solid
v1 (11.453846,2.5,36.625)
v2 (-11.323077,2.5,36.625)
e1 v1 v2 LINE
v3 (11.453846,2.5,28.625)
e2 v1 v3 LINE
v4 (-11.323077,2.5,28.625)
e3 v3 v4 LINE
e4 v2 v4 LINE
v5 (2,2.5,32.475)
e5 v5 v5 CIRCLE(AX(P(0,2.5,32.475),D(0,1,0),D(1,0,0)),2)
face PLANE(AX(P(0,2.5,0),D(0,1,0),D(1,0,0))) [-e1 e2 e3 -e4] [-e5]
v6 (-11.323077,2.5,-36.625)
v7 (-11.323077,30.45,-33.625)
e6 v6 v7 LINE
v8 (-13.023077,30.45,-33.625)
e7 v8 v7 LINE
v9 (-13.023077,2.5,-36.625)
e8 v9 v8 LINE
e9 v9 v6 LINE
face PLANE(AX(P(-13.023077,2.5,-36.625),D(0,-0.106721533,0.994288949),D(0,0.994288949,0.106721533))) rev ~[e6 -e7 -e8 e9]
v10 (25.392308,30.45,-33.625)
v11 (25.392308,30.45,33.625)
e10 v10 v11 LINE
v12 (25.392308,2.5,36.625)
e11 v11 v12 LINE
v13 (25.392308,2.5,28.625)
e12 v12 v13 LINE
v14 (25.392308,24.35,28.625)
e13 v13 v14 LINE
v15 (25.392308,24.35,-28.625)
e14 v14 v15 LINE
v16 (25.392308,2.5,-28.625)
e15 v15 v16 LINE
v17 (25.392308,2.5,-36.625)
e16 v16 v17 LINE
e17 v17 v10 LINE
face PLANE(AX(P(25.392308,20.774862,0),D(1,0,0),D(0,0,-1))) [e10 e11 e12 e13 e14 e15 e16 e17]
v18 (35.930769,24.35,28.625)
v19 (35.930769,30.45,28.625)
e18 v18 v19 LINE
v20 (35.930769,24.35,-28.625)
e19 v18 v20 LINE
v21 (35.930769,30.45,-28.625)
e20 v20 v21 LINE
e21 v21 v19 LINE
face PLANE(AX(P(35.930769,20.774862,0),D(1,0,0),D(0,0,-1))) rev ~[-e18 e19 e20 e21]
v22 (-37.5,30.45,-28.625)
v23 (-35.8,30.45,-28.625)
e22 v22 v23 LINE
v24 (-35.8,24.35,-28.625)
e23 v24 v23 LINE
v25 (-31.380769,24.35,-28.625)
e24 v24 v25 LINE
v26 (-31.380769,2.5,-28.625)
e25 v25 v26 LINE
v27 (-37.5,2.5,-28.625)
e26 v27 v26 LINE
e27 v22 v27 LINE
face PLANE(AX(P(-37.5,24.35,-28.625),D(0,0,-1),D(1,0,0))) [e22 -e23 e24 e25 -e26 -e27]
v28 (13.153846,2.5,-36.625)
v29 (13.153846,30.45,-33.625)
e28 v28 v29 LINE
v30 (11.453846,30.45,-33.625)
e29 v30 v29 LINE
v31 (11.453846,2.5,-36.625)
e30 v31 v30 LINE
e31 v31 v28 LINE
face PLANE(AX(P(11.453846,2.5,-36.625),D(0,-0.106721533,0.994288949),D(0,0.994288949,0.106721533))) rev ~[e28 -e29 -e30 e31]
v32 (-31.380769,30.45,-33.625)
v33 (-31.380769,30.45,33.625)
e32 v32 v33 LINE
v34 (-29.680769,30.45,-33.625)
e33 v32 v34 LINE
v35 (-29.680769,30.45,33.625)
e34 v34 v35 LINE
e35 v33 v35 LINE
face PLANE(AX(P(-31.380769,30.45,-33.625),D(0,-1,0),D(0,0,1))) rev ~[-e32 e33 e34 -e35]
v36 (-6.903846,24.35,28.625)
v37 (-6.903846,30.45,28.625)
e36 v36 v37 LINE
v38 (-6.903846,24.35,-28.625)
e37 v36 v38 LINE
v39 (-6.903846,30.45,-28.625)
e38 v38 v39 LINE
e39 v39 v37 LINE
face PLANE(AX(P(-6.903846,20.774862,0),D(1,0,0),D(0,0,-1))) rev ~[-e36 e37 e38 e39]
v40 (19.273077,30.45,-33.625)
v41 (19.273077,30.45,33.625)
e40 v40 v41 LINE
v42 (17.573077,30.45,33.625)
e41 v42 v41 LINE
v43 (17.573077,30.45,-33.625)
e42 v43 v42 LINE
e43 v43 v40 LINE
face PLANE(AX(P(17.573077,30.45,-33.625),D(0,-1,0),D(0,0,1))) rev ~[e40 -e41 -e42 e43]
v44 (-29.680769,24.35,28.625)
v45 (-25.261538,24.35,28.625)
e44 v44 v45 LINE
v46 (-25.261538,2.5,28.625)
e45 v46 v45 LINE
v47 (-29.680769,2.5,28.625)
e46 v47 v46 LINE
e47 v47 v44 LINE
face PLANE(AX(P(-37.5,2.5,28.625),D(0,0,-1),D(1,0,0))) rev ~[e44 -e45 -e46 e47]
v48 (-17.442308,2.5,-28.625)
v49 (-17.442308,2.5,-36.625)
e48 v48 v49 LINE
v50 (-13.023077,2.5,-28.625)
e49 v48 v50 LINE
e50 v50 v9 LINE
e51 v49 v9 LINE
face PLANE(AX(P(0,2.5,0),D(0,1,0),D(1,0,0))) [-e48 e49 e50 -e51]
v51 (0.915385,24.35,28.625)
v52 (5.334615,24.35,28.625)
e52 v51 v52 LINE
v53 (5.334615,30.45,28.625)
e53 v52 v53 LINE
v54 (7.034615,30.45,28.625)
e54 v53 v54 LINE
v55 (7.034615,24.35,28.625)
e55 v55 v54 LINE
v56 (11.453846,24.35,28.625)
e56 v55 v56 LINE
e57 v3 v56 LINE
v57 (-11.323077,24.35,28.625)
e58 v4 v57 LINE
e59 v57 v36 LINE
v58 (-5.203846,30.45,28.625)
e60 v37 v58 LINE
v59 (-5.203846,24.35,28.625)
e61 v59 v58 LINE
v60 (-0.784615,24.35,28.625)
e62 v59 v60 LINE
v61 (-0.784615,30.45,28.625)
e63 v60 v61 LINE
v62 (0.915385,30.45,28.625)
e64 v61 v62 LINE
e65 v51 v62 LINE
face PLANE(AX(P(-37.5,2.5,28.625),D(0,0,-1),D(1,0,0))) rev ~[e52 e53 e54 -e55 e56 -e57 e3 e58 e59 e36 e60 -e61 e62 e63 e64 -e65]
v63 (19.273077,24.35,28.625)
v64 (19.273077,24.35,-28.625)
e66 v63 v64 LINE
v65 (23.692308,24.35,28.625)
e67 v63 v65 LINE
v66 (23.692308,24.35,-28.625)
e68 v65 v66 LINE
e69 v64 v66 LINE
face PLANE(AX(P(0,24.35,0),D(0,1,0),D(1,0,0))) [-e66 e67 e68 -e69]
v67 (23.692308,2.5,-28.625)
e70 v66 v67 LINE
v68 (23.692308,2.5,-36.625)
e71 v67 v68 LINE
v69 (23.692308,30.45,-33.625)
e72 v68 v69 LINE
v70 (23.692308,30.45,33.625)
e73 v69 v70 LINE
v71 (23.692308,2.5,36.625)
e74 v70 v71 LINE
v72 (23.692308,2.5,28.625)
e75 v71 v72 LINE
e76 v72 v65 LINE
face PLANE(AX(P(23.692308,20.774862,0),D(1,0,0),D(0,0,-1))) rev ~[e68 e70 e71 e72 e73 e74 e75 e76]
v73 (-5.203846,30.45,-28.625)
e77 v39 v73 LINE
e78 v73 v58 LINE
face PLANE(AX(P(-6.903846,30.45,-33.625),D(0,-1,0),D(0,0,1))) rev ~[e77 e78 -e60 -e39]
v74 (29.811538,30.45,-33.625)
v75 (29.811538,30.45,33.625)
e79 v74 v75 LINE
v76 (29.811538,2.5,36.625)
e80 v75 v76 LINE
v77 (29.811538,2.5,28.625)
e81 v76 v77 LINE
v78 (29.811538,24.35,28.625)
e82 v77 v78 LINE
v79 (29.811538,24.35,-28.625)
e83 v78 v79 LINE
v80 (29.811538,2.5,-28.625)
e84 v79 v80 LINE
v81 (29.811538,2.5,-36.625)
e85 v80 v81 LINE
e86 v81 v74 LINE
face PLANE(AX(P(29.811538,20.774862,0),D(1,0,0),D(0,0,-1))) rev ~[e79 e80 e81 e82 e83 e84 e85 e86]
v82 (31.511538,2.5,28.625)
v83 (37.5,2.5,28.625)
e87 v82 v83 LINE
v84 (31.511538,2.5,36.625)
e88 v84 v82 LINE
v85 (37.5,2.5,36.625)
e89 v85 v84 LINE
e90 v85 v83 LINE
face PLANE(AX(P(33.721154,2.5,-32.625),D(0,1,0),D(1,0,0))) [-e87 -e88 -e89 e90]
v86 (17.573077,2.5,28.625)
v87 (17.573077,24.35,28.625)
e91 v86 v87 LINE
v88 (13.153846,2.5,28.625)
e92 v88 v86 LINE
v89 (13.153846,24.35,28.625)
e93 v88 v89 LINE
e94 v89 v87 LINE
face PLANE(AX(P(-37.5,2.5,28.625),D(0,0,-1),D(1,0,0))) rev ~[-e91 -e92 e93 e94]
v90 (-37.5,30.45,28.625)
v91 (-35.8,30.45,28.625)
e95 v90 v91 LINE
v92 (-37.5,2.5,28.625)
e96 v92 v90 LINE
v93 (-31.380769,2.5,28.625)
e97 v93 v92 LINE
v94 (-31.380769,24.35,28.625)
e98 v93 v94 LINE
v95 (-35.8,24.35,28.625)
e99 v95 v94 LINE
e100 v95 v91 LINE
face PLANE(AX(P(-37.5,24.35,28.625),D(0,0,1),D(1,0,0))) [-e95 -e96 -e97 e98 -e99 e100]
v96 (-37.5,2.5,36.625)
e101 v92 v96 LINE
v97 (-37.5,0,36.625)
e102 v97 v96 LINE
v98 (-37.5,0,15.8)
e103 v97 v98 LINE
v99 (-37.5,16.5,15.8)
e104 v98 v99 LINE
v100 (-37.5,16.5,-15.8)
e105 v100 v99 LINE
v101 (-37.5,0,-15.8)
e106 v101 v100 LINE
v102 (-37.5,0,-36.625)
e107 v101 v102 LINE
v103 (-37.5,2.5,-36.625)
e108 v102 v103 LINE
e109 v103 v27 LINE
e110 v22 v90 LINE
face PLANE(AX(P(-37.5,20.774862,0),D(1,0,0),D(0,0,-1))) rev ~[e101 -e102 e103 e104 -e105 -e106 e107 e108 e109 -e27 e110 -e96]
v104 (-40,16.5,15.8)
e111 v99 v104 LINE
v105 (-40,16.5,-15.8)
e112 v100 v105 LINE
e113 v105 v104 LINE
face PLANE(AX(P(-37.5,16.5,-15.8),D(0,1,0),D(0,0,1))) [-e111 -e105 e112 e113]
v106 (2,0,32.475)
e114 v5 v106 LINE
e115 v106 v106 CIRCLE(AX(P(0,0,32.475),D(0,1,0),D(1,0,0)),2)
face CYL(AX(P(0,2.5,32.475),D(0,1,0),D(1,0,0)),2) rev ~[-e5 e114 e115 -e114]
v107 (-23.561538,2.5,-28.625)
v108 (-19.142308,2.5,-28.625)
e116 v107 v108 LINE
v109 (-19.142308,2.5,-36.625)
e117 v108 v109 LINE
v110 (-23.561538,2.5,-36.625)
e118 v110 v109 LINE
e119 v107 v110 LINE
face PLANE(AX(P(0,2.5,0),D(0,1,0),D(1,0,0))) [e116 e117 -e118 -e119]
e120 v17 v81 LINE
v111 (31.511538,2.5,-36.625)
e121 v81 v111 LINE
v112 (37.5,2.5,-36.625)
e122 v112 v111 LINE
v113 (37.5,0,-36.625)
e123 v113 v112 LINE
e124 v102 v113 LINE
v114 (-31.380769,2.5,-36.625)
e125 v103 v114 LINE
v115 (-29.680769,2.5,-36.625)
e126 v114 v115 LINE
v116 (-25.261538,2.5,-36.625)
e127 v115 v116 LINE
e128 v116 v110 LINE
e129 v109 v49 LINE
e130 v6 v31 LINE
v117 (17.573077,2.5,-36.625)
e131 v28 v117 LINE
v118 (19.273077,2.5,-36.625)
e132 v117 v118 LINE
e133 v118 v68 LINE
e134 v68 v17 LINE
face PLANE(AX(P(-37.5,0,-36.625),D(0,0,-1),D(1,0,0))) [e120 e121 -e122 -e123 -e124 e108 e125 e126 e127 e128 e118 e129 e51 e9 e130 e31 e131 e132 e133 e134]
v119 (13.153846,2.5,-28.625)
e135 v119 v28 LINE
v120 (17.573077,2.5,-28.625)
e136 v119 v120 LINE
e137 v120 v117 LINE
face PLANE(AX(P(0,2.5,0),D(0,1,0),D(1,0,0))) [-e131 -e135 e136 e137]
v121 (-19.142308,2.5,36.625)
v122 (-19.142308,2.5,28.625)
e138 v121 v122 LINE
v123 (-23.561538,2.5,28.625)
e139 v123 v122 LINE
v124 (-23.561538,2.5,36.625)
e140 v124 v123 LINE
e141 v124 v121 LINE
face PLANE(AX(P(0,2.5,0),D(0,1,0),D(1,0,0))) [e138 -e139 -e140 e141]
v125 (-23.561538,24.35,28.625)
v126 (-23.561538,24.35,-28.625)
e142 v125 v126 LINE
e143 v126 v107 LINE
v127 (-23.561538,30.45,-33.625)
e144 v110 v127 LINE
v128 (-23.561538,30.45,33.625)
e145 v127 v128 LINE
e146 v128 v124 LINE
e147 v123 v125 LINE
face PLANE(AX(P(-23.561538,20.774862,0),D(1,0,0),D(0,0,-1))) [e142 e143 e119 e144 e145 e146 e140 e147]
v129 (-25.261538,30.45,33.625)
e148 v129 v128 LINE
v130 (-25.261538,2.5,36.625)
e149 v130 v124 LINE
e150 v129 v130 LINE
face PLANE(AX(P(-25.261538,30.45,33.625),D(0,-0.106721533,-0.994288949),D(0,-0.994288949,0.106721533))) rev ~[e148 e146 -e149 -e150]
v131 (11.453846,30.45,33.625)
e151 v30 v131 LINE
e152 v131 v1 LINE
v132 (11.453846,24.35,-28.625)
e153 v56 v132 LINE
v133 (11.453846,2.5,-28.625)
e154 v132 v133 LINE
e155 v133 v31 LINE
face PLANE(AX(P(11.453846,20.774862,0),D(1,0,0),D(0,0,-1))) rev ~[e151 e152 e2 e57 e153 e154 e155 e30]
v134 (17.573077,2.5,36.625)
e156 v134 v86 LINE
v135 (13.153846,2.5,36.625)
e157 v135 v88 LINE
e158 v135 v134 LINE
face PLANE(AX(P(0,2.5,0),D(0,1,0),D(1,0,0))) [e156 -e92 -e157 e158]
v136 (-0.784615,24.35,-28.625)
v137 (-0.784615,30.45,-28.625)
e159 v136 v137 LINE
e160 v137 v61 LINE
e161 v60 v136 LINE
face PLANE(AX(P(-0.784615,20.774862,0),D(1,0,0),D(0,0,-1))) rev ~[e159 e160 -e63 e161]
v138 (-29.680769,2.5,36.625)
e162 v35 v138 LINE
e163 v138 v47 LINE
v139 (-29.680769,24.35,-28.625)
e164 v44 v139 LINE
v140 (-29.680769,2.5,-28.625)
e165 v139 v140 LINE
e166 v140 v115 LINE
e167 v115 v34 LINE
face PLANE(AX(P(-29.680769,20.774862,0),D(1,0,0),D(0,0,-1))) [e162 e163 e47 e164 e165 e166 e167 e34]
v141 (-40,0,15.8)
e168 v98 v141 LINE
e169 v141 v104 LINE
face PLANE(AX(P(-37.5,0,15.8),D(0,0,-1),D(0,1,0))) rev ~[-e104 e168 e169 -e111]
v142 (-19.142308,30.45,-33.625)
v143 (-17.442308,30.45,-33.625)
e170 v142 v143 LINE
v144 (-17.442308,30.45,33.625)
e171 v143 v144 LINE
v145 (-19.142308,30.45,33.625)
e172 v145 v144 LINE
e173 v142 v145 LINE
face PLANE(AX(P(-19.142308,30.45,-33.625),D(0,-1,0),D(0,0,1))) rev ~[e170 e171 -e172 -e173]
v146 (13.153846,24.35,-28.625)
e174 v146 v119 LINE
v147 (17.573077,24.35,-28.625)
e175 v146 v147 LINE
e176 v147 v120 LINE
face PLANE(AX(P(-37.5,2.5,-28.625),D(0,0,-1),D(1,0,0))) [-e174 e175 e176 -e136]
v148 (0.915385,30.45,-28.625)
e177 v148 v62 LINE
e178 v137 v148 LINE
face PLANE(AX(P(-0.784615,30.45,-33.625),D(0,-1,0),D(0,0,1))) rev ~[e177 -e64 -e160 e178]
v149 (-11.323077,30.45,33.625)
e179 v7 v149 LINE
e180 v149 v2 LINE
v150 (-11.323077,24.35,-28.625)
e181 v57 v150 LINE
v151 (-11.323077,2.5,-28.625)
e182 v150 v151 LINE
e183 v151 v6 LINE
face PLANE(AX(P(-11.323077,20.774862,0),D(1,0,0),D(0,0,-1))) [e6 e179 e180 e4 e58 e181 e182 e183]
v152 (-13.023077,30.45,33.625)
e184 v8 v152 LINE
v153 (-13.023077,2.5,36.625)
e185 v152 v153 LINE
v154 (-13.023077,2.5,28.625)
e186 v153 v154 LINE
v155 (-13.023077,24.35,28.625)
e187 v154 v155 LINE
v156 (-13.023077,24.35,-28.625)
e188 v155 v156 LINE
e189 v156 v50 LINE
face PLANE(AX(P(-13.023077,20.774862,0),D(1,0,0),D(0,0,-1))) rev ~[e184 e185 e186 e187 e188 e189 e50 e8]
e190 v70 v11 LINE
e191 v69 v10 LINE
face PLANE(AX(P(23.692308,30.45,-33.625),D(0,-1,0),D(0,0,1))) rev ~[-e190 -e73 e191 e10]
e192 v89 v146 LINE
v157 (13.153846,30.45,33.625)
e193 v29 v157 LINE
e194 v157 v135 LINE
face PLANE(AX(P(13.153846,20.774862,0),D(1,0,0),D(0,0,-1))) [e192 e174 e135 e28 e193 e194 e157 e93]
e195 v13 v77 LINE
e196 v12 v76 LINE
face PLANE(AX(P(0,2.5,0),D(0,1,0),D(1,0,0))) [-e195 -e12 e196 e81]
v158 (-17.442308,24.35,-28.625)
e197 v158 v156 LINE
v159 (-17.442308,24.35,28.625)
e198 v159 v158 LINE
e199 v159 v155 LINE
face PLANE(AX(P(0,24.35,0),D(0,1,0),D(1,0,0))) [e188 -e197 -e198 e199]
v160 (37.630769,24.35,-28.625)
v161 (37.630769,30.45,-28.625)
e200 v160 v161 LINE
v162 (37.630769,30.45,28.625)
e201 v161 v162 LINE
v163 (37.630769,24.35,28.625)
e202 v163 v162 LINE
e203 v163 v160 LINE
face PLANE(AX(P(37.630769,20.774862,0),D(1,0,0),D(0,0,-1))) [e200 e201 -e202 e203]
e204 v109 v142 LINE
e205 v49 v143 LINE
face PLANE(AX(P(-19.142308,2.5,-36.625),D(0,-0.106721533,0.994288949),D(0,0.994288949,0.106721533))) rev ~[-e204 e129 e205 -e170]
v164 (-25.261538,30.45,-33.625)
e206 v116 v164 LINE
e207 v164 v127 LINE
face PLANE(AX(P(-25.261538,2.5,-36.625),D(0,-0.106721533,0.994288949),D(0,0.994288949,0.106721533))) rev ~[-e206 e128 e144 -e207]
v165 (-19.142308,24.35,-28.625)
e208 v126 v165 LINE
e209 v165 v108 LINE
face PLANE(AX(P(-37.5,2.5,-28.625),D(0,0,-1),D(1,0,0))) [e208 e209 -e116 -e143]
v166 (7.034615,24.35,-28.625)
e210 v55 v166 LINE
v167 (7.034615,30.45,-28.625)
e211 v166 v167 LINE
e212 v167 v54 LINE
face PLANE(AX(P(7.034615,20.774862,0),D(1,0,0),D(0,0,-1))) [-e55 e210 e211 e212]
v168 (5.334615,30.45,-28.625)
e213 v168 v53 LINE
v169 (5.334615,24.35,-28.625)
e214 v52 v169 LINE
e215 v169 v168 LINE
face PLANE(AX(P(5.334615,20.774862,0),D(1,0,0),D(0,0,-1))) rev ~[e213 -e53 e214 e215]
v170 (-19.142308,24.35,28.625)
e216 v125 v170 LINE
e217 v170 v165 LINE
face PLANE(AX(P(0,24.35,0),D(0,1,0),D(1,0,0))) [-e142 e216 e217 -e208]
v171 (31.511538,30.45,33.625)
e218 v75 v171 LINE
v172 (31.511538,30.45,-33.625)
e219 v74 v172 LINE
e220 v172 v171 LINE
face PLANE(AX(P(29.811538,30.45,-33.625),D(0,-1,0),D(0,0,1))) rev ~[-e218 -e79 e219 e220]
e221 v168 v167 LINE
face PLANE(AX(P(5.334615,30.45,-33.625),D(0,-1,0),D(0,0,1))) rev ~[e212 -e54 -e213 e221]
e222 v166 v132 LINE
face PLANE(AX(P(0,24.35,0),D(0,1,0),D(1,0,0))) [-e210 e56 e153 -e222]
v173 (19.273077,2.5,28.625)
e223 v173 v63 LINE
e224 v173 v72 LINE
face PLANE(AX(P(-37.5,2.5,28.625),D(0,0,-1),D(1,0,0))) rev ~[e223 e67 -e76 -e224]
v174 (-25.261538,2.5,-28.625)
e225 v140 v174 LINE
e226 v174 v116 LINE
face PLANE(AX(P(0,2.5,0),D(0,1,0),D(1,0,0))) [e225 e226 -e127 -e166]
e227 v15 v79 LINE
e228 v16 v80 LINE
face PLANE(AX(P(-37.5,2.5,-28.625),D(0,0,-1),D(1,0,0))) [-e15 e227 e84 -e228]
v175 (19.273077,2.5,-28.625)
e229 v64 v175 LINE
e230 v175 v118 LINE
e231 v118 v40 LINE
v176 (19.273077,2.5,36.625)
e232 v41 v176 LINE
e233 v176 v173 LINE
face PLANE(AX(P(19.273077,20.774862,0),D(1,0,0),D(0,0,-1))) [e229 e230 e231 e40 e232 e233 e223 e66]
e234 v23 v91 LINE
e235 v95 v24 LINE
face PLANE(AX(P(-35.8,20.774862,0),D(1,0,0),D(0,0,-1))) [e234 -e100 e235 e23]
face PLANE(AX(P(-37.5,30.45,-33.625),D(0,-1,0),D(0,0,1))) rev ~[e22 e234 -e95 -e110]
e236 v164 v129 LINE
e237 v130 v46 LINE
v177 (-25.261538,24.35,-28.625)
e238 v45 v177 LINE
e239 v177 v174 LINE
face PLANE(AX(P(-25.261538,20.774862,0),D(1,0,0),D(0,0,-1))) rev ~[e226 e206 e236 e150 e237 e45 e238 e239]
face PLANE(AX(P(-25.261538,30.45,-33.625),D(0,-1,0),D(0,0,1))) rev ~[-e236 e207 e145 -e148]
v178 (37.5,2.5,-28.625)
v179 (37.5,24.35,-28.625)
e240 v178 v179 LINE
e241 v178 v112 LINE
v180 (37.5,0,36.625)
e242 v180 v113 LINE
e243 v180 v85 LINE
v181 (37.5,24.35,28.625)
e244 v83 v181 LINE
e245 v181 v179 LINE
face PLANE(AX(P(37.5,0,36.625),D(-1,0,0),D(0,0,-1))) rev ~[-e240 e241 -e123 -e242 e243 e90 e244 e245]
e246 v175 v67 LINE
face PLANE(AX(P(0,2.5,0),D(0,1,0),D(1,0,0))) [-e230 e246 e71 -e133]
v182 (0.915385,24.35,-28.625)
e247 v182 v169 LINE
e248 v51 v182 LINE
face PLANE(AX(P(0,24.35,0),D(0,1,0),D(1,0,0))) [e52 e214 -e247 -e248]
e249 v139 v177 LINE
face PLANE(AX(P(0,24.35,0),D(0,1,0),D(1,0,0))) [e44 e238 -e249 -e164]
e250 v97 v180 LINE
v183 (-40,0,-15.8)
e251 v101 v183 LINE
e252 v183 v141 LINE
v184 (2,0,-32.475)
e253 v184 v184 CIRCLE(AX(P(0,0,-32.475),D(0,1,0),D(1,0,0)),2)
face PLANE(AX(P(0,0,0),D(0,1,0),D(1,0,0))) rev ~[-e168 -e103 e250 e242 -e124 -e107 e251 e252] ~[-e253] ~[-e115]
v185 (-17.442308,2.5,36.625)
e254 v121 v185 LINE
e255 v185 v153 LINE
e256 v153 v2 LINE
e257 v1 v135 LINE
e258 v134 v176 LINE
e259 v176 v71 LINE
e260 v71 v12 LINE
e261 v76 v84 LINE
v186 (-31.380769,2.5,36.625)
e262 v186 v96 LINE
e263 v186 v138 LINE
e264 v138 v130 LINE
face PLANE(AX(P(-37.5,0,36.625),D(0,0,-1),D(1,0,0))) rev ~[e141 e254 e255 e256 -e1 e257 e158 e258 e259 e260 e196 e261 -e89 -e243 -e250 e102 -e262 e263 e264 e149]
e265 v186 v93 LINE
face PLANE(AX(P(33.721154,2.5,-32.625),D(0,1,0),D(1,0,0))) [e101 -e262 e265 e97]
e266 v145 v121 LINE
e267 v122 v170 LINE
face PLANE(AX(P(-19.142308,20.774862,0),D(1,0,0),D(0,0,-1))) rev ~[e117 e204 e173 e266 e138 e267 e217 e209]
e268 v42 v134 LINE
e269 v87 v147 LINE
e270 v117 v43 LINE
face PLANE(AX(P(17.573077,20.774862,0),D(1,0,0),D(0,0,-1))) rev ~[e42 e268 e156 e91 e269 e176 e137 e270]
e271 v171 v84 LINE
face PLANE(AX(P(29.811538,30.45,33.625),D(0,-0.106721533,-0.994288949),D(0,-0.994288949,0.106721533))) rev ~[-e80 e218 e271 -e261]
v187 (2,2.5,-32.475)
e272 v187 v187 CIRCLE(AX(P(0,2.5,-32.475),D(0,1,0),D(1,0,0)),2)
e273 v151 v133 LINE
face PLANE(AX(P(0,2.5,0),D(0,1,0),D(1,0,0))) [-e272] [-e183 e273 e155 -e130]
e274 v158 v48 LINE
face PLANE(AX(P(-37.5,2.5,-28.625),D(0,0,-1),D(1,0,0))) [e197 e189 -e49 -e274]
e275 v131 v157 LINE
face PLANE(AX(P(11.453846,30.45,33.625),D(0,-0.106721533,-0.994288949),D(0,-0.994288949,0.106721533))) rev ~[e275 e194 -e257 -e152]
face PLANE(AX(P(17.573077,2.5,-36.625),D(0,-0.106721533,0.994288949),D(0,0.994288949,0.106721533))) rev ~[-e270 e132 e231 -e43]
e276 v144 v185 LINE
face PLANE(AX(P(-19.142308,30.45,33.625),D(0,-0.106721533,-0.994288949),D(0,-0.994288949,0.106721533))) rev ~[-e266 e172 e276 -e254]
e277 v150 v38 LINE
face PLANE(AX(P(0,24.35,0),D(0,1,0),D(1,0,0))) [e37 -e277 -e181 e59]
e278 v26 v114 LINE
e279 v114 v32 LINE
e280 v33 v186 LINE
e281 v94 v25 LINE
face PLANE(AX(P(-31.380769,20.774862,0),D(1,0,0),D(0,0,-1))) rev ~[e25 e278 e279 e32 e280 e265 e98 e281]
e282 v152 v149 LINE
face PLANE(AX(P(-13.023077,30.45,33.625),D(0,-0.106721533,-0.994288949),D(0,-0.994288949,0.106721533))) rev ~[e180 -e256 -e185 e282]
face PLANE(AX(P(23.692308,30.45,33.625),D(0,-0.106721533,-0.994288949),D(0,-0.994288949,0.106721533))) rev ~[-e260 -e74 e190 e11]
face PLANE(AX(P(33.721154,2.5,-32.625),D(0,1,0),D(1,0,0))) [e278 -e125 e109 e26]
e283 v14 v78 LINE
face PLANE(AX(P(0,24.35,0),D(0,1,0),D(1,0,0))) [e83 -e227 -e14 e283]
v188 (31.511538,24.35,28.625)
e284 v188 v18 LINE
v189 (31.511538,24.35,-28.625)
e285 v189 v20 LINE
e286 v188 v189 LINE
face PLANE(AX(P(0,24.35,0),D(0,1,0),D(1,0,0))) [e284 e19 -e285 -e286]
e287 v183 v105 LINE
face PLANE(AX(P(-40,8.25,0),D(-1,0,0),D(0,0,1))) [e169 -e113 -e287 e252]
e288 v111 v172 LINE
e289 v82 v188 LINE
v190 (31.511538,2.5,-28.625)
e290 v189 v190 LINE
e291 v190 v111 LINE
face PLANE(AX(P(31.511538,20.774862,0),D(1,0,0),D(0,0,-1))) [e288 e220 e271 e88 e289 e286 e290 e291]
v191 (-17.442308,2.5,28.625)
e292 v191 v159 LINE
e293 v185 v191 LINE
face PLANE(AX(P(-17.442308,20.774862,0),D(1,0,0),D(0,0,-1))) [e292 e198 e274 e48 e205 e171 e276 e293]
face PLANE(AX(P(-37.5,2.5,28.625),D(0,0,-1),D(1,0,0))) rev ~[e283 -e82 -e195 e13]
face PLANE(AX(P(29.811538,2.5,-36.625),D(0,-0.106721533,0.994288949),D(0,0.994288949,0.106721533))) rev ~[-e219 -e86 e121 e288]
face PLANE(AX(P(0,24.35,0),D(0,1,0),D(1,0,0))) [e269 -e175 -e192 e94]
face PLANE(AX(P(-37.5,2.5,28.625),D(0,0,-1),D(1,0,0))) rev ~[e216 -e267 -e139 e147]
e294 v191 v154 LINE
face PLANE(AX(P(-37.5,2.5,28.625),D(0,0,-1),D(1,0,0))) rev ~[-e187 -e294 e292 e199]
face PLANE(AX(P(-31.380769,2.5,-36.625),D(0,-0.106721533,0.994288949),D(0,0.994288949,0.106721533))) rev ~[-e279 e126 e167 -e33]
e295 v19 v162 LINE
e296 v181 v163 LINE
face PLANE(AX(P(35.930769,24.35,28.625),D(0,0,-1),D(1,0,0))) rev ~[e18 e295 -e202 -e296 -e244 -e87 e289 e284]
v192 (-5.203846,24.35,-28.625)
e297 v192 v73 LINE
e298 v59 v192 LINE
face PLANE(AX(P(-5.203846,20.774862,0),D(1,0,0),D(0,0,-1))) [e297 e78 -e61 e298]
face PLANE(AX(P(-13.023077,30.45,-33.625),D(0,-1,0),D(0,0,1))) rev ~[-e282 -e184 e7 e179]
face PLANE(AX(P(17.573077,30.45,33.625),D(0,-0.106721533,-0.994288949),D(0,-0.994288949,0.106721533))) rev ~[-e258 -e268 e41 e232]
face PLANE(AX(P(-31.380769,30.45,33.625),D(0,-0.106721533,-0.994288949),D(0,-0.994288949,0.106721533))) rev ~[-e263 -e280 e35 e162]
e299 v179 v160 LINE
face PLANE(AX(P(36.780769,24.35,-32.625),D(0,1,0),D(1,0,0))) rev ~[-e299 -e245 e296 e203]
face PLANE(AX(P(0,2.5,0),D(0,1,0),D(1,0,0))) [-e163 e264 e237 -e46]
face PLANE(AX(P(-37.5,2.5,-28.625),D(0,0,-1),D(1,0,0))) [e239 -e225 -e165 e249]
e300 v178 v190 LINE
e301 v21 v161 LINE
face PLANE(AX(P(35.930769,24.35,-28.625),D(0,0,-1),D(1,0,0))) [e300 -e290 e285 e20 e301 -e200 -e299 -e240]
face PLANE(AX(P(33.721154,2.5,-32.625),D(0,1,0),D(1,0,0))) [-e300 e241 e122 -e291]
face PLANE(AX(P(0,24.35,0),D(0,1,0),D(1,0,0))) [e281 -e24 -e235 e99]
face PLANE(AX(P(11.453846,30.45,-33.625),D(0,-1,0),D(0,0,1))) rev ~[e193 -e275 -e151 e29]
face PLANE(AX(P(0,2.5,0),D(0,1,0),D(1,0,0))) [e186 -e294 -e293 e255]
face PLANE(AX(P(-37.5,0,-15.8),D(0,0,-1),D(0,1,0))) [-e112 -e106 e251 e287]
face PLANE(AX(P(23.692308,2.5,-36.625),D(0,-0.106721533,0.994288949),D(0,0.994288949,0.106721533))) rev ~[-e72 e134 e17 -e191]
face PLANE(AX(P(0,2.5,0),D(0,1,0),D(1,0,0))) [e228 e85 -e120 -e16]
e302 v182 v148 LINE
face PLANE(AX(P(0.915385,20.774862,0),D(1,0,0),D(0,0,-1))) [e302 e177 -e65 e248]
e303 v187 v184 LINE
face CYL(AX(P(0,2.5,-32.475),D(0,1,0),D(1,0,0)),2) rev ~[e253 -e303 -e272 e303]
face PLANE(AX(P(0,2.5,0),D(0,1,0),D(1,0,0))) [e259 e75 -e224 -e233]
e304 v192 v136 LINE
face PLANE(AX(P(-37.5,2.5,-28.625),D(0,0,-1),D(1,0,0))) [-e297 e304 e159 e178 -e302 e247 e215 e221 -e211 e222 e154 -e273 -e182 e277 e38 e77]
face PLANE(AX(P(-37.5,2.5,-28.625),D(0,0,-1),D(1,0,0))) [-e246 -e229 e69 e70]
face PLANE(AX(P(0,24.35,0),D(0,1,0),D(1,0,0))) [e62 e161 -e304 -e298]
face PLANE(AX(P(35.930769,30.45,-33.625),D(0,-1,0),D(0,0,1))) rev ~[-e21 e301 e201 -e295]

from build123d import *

# Parameters (mm, degrees)
SKETCH1_W                      = 75
SKETCH1_H                      = 73.25
BOSS_EXTRUDE1_DEPTH            = 2.5
SKETCH2_W                      = 75
SKETCH2_H                      = 57.25
BOSS_EXTRUDE2_DEPTH            = 21.85
BOSS_EXTRUDE3_DEPTH            = 1.7
LPATTERN1_COUNT                = 13
LPATTERN1_PITCH                = 6.119230769
CUT_EXTRUDE1_REACH             = 26.35
SKETCH4_W                      = 1.7
SKETCH4_H                      = 8
CUT_EXTRUDE1_DIRECTION_2_REACH = 8.1
SKETCH5_R                      = 2
CUT_EXTRUDE2_DEPTH             = 3.5
SKETCH6_W                      = 31.6
SKETCH6_H                      = 16.5
BOSS_EXTRUDE4_DEPTH            = 2.5


with BuildPart() as part:
    # Sketch1 → Boss-Extrude1 (new body)
    with BuildSketch(Plane(origin=(0, 0, 0), x_dir=(1, 0, 0), z_dir=(0, 1, 0))):
        Rectangle(SKETCH1_W, SKETCH1_H)
    extrude(amount=BOSS_EXTRUDE1_DEPTH)

    # Sketch2 → Boss-Extrude2 (add)
    with BuildSketch(Plane(origin=(0, 2.5, 0), x_dir=(1, 0, 0), z_dir=(0, 1, 0))):
        Rectangle(SKETCH2_W, SKETCH2_H)
    extrude(amount=BOSS_EXTRUDE2_DEPTH)

    # Sketch3 → Boss-Extrude3 (add)
    with BuildSketch(Plane.ZY.offset(37.5)):
        Polygon((-33.625, 30.45), (33.625, 30.45), (36.625, 2.5), (28.625, 2.5), (28.625, 24.35), (-28.625, 24.35), (-28.625, 2.5), (-36.625, 2.5), align=None)
    boss_extrude3 = extrude(amount=-BOSS_EXTRUDE3_DEPTH)

    # LPattern1: Boss-Extrude3 ×13
    with Locations(*[(i * LPATTERN1_PITCH, 0, 0) for i in range(1, LPATTERN1_COUNT)]):
        add(boss_extrude3)

    # Cut-Extrude1: up to this face of the body (flat: up to its plane)
    cut_extrude1_end = Plane(part.part.faces().sort_by_distance((33.721153846, 2.5, -32.625))[0])
    # Sketch4 → Cut-Extrude1 (cut, up to the picked face)
    with BuildSketch(Plane(origin=(0, 24.35, 0), x_dir=(1, 0, 0), z_dir=(0, 1, 0)), mode=Mode.PRIVATE) as cut_extrude1_sk1:
        with Locations((-36.65, -32.625)):
            Rectangle(SKETCH4_W, SKETCH4_H)
    cut_extrude1_tool1 = split(extrude(cut_extrude1_sk1.sketch, amount=-CUT_EXTRUDE1_REACH, mode=Mode.PRIVATE), bisect_by=cut_extrude1_end, keep=Keep.BOTH, mode=Mode.PRIVATE)
    add(cut_extrude1_tool1.solids().sort_by_distance((-36.65, 24.35, 32.625))[0], mode=Mode.SUBTRACT)
    # Sketch4 → Cut-Extrude1 (cut, up to the picked face)
    with BuildSketch(Plane(origin=(0, 24.35, 0), x_dir=(1, 0, 0), z_dir=(0, 1, 0)), mode=Mode.PRIVATE) as cut_extrude1_sk2:
        with Locations((-6.053846154, -32.625)):
            Rectangle(SKETCH4_W, SKETCH4_H)
    cut_extrude1_tool2 = split(extrude(cut_extrude1_sk2.sketch, amount=-CUT_EXTRUDE1_REACH, mode=Mode.PRIVATE), bisect_by=cut_extrude1_end, keep=Keep.BOTH, mode=Mode.PRIVATE)
    add(cut_extrude1_tool2.solids().sort_by_distance((-6.053846, 24.35, 32.625))[0], mode=Mode.SUBTRACT)
    # Sketch4 → Cut-Extrude1 (cut, up to the picked face)
    with BuildSketch(Plane(origin=(0, 24.35, 0), x_dir=(1, 0, 0), z_dir=(0, 1, 0)), mode=Mode.PRIVATE) as cut_extrude1_sk3:
        with Locations((0.065384615, -32.625)):
            Rectangle(SKETCH4_W, SKETCH4_H)
    cut_extrude1_tool3 = split(extrude(cut_extrude1_sk3.sketch, amount=-CUT_EXTRUDE1_REACH, mode=Mode.PRIVATE), bisect_by=cut_extrude1_end, keep=Keep.BOTH, mode=Mode.PRIVATE)
    add(cut_extrude1_tool3.solids().sort_by_distance((0.065385, 24.35, 32.625))[0], mode=Mode.SUBTRACT)
    # Sketch4 → Cut-Extrude1 (cut, up to the picked face)
    with BuildSketch(Plane(origin=(0, 24.35, 0), x_dir=(1, 0, 0), z_dir=(0, 1, 0)), mode=Mode.PRIVATE) as cut_extrude1_sk4:
        with Locations((6.184615385, -32.625)):
            Rectangle(SKETCH4_W, SKETCH4_H)
    cut_extrude1_tool4 = split(extrude(cut_extrude1_sk4.sketch, amount=-CUT_EXTRUDE1_REACH, mode=Mode.PRIVATE), bisect_by=cut_extrude1_end, keep=Keep.BOTH, mode=Mode.PRIVATE)
    add(cut_extrude1_tool4.solids().sort_by_distance((6.184615, 24.35, 32.625))[0], mode=Mode.SUBTRACT)
    # Sketch4 → Cut-Extrude1 (cut, up to the picked face)
    with BuildSketch(Plane(origin=(0, 24.35, 0), x_dir=(1, 0, 0), z_dir=(0, 1, 0)), mode=Mode.PRIVATE) as cut_extrude1_sk5:
        with Locations((36.780769231, -32.625)):
            Rectangle(SKETCH4_W, SKETCH4_H)
    cut_extrude1_tool5 = split(extrude(cut_extrude1_sk5.sketch, amount=-CUT_EXTRUDE1_REACH, mode=Mode.PRIVATE), bisect_by=cut_extrude1_end, keep=Keep.BOTH, mode=Mode.PRIVATE)
    add(cut_extrude1_tool5.solids().sort_by_distance((36.780769, 24.35, 32.625))[0], mode=Mode.SUBTRACT)
    # Sketch4 → Cut-Extrude1 (cut, up to the picked face)
    with BuildSketch(Plane(origin=(0, 24.35, 0), x_dir=(1, 0, 0), z_dir=(0, 1, 0)), mode=Mode.PRIVATE) as cut_extrude1_sk6:
        with Locations((-36.65, 32.625)):
            Rectangle(SKETCH4_W, SKETCH4_H)
    cut_extrude1_tool6 = split(extrude(cut_extrude1_sk6.sketch, amount=-CUT_EXTRUDE1_REACH, mode=Mode.PRIVATE), bisect_by=cut_extrude1_end, keep=Keep.BOTH, mode=Mode.PRIVATE)
    add(cut_extrude1_tool6.solids().sort_by_distance((-36.65, 24.35, -32.625))[0], mode=Mode.SUBTRACT)
    # Sketch4 → Cut-Extrude1 (cut, up to the picked face)
    with BuildSketch(Plane(origin=(0, 24.35, 0), x_dir=(1, 0, 0), z_dir=(0, 1, 0)), mode=Mode.PRIVATE) as cut_extrude1_sk7:
        with Locations((-6.053846154, 32.625)):
            Rectangle(SKETCH4_W, SKETCH4_H)
    cut_extrude1_tool7 = split(extrude(cut_extrude1_sk7.sketch, amount=-CUT_EXTRUDE1_REACH, mode=Mode.PRIVATE), bisect_by=cut_extrude1_end, keep=Keep.BOTH, mode=Mode.PRIVATE)
    add(cut_extrude1_tool7.solids().sort_by_distance((-6.053846, 24.35, -32.625))[0], mode=Mode.SUBTRACT)
    # Sketch4 → Cut-Extrude1 (cut, up to the picked face)
    with BuildSketch(Plane(origin=(0, 24.35, 0), x_dir=(1, 0, 0), z_dir=(0, 1, 0)), mode=Mode.PRIVATE) as cut_extrude1_sk8:
        with Locations((6.184615385, 32.625)):
            Rectangle(SKETCH4_W, SKETCH4_H)
    cut_extrude1_tool8 = split(extrude(cut_extrude1_sk8.sketch, amount=-CUT_EXTRUDE1_REACH, mode=Mode.PRIVATE), bisect_by=cut_extrude1_end, keep=Keep.BOTH, mode=Mode.PRIVATE)
    add(cut_extrude1_tool8.solids().sort_by_distance((6.184615, 24.35, -32.625))[0], mode=Mode.SUBTRACT)
    # Sketch4 → Cut-Extrude1 (cut, up to the picked face)
    with BuildSketch(Plane(origin=(0, 24.35, 0), x_dir=(1, 0, 0), z_dir=(0, 1, 0)), mode=Mode.PRIVATE) as cut_extrude1_sk9:
        with Locations((36.780769231, 32.625)):
            Rectangle(SKETCH4_W, SKETCH4_H)
    cut_extrude1_tool9 = split(extrude(cut_extrude1_sk9.sketch, amount=-CUT_EXTRUDE1_REACH, mode=Mode.PRIVATE), bisect_by=cut_extrude1_end, keep=Keep.BOTH, mode=Mode.PRIVATE)
    add(cut_extrude1_tool9.solids().sort_by_distance((36.780769, 24.35, -32.625))[0], mode=Mode.SUBTRACT)
    # Sketch4 → Cut-Extrude1 (cut, up to the picked face)
    with BuildSketch(Plane(origin=(0, 24.35, 0), x_dir=(1, 0, 0), z_dir=(0, 1, 0)), mode=Mode.PRIVATE) as cut_extrude1_sk10:
        with Locations((0.065384615, 32.625)):
            Rectangle(SKETCH4_W, SKETCH4_H)
    cut_extrude1_tool10 = split(extrude(cut_extrude1_sk10.sketch, amount=-CUT_EXTRUDE1_REACH, mode=Mode.PRIVATE), bisect_by=cut_extrude1_end, keep=Keep.BOTH, mode=Mode.PRIVATE)
    add(cut_extrude1_tool10.solids().sort_by_distance((0.065385, 24.35, -32.625))[0], mode=Mode.SUBTRACT)

    # Cut-Extrude1 direction 2: up to this face of the body (flat: up to its plane)
    cut_extrude1_direction_2_end = Plane(part.part.faces().sort_by_distance((36.780769231, 30.45, 0))[0])
    # Sketch4 → Cut-Extrude1 direction 2 (cut, up to the picked face)
    with BuildSketch(Plane(origin=(0, 24.35, 0), x_dir=(1, 0, 0), z_dir=(0, 1, 0)), mode=Mode.PRIVATE) as cut_extrude1_direction_2_sk1:
        with Locations((-36.65, -32.625)):
            Rectangle(SKETCH4_W, SKETCH4_H)
    cut_extrude1_direction_2_tool1 = split(extrude(cut_extrude1_direction_2_sk1.sketch, amount=CUT_EXTRUDE1_DIRECTION_2_REACH, mode=Mode.PRIVATE), bisect_by=cut_extrude1_direction_2_end, keep=Keep.BOTH, mode=Mode.PRIVATE)
    add(cut_extrude1_direction_2_tool1.solids().sort_by_distance((-36.65, 24.35, 32.625))[0], mode=Mode.SUBTRACT)
    # Sketch4 → Cut-Extrude1 direction 2 (cut, up to the picked face)
    with BuildSketch(Plane(origin=(0, 24.35, 0), x_dir=(1, 0, 0), z_dir=(0, 1, 0)), mode=Mode.PRIVATE) as cut_extrude1_direction_2_sk2:
        with Locations((-6.053846154, -32.625)):
            Rectangle(SKETCH4_W, SKETCH4_H)
    cut_extrude1_direction_2_tool2 = split(extrude(cut_extrude1_direction_2_sk2.sketch, amount=CUT_EXTRUDE1_DIRECTION_2_REACH, mode=Mode.PRIVATE), bisect_by=cut_extrude1_direction_2_end, keep=Keep.BOTH, mode=Mode.PRIVATE)
    add(cut_extrude1_direction_2_tool2.solids().sort_by_distance((-6.053846, 24.35, 32.625))[0], mode=Mode.SUBTRACT)
    # Sketch4 → Cut-Extrude1 direction 2 (cut, up to the picked face)
    with BuildSketch(Plane(origin=(0, 24.35, 0), x_dir=(1, 0, 0), z_dir=(0, 1, 0)), mode=Mode.PRIVATE) as cut_extrude1_direction_2_sk3:
        with Locations((0.065384615, -32.625)):
            Rectangle(SKETCH4_W, SKETCH4_H)
    cut_extrude1_direction_2_tool3 = split(extrude(cut_extrude1_direction_2_sk3.sketch, amount=CUT_EXTRUDE1_DIRECTION_2_REACH, mode=Mode.PRIVATE), bisect_by=cut_extrude1_direction_2_end, keep=Keep.BOTH, mode=Mode.PRIVATE)
    add(cut_extrude1_direction_2_tool3.solids().sort_by_distance((0.065385, 24.35, 32.625))[0], mode=Mode.SUBTRACT)
    # Sketch4 → Cut-Extrude1 direction 2 (cut, up to the picked face)
    with BuildSketch(Plane(origin=(0, 24.35, 0), x_dir=(1, 0, 0), z_dir=(0, 1, 0)), mode=Mode.PRIVATE) as cut_extrude1_direction_2_sk4:
        with Locations((6.184615385, -32.625)):
            Rectangle(SKETCH4_W, SKETCH4_H)
    cut_extrude1_direction_2_tool4 = split(extrude(cut_extrude1_direction_2_sk4.sketch, amount=CUT_EXTRUDE1_DIRECTION_2_REACH, mode=Mode.PRIVATE), bisect_by=cut_extrude1_direction_2_end, keep=Keep.BOTH, mode=Mode.PRIVATE)
    add(cut_extrude1_direction_2_tool4.solids().sort_by_distance((6.184615, 24.35, 32.625))[0], mode=Mode.SUBTRACT)
    # Sketch4 → Cut-Extrude1 direction 2 (cut, up to the picked face)
    with BuildSketch(Plane(origin=(0, 24.35, 0), x_dir=(1, 0, 0), z_dir=(0, 1, 0)), mode=Mode.PRIVATE) as cut_extrude1_direction_2_sk5:
        with Locations((36.780769231, -32.625)):
            Rectangle(SKETCH4_W, SKETCH4_H)
    cut_extrude1_direction_2_tool5 = split(extrude(cut_extrude1_direction_2_sk5.sketch, amount=CUT_EXTRUDE1_DIRECTION_2_REACH, mode=Mode.PRIVATE), bisect_by=cut_extrude1_direction_2_end, keep=Keep.BOTH, mode=Mode.PRIVATE)
    add(cut_extrude1_direction_2_tool5.solids().sort_by_distance((36.780769, 24.35, 32.625))[0], mode=Mode.SUBTRACT)
    # Sketch4 → Cut-Extrude1 direction 2 (cut, up to the picked face)
    with BuildSketch(Plane(origin=(0, 24.35, 0), x_dir=(1, 0, 0), z_dir=(0, 1, 0)), mode=Mode.PRIVATE) as cut_extrude1_direction_2_sk6:
        with Locations((-36.65, 32.625)):
            Rectangle(SKETCH4_W, SKETCH4_H)
    cut_extrude1_direction_2_tool6 = split(extrude(cut_extrude1_direction_2_sk6.sketch, amount=CUT_EXTRUDE1_DIRECTION_2_REACH, mode=Mode.PRIVATE), bisect_by=cut_extrude1_direction_2_end, keep=Keep.BOTH, mode=Mode.PRIVATE)
    add(cut_extrude1_direction_2_tool6.solids().sort_by_distance((-36.65, 24.35, -32.625))[0], mode=Mode.SUBTRACT)
    # Sketch4 → Cut-Extrude1 direction 2 (cut, up to the picked face)
    with BuildSketch(Plane(origin=(0, 24.35, 0), x_dir=(1, 0, 0), z_dir=(0, 1, 0)), mode=Mode.PRIVATE) as cut_extrude1_direction_2_sk7:
        with Locations((-6.053846154, 32.625)):
            Rectangle(SKETCH4_W, SKETCH4_H)
    cut_extrude1_direction_2_tool7 = split(extrude(cut_extrude1_direction_2_sk7.sketch, amount=CUT_EXTRUDE1_DIRECTION_2_REACH, mode=Mode.PRIVATE), bisect_by=cut_extrude1_direction_2_end, keep=Keep.BOTH, mode=Mode.PRIVATE)
    add(cut_extrude1_direction_2_tool7.solids().sort_by_distance((-6.053846, 24.35, -32.625))[0], mode=Mode.SUBTRACT)
    # Sketch4 → Cut-Extrude1 direction 2 (cut, up to the picked face)
    with BuildSketch(Plane(origin=(0, 24.35, 0), x_dir=(1, 0, 0), z_dir=(0, 1, 0)), mode=Mode.PRIVATE) as cut_extrude1_direction_2_sk8:
        with Locations((6.184615385, 32.625)):
            Rectangle(SKETCH4_W, SKETCH4_H)
    cut_extrude1_direction_2_tool8 = split(extrude(cut_extrude1_direction_2_sk8.sketch, amount=CUT_EXTRUDE1_DIRECTION_2_REACH, mode=Mode.PRIVATE), bisect_by=cut_extrude1_direction_2_end, keep=Keep.BOTH, mode=Mode.PRIVATE)
    add(cut_extrude1_direction_2_tool8.solids().sort_by_distance((6.184615, 24.35, -32.625))[0], mode=Mode.SUBTRACT)
    # Sketch4 → Cut-Extrude1 direction 2 (cut, up to the picked face)
    with BuildSketch(Plane(origin=(0, 24.35, 0), x_dir=(1, 0, 0), z_dir=(0, 1, 0)), mode=Mode.PRIVATE) as cut_extrude1_direction_2_sk9:
        with Locations((36.780769231, 32.625)):
            Rectangle(SKETCH4_W, SKETCH4_H)
    cut_extrude1_direction_2_tool9 = split(extrude(cut_extrude1_direction_2_sk9.sketch, amount=CUT_EXTRUDE1_DIRECTION_2_REACH, mode=Mode.PRIVATE), bisect_by=cut_extrude1_direction_2_end, keep=Keep.BOTH, mode=Mode.PRIVATE)
    add(cut_extrude1_direction_2_tool9.solids().sort_by_distance((36.780769, 24.35, -32.625))[0], mode=Mode.SUBTRACT)
    # Sketch4 → Cut-Extrude1 direction 2 (cut, up to the picked face)
    with BuildSketch(Plane(origin=(0, 24.35, 0), x_dir=(1, 0, 0), z_dir=(0, 1, 0)), mode=Mode.PRIVATE) as cut_extrude1_direction_2_sk10:
        with Locations((0.065384615, 32.625)):
            Rectangle(SKETCH4_W, SKETCH4_H)
    cut_extrude1_direction_2_tool10 = split(extrude(cut_extrude1_direction_2_sk10.sketch, amount=CUT_EXTRUDE1_DIRECTION_2_REACH, mode=Mode.PRIVATE), bisect_by=cut_extrude1_direction_2_end, keep=Keep.BOTH, mode=Mode.PRIVATE)
    add(cut_extrude1_direction_2_tool10.solids().sort_by_distance((0.065385, 24.35, -32.625))[0], mode=Mode.SUBTRACT)

    # Sketch5 → Cut-Extrude2 (cut, through all)
    with BuildSketch(Plane(origin=(0, 2.5, 0), x_dir=(1, 0, 0), z_dir=(0, 1, 0))):
        with Locations((0, 32.475)):
            Circle(SKETCH5_R)
        with Locations((0, -32.475)):
            Circle(SKETCH5_R)
    extrude(amount=-CUT_EXTRUDE2_DEPTH, mode=Mode.SUBTRACT)

    # Sketch6 → Boss-Extrude4 (add)
    with BuildSketch(Plane.ZY.offset(37.5)):
        with Locations((0, 8.25)):
            Rectangle(SKETCH6_W, SKETCH6_H)
    extrude(amount=BOSS_EXTRUDE4_DEPTH)


solid = part.part
